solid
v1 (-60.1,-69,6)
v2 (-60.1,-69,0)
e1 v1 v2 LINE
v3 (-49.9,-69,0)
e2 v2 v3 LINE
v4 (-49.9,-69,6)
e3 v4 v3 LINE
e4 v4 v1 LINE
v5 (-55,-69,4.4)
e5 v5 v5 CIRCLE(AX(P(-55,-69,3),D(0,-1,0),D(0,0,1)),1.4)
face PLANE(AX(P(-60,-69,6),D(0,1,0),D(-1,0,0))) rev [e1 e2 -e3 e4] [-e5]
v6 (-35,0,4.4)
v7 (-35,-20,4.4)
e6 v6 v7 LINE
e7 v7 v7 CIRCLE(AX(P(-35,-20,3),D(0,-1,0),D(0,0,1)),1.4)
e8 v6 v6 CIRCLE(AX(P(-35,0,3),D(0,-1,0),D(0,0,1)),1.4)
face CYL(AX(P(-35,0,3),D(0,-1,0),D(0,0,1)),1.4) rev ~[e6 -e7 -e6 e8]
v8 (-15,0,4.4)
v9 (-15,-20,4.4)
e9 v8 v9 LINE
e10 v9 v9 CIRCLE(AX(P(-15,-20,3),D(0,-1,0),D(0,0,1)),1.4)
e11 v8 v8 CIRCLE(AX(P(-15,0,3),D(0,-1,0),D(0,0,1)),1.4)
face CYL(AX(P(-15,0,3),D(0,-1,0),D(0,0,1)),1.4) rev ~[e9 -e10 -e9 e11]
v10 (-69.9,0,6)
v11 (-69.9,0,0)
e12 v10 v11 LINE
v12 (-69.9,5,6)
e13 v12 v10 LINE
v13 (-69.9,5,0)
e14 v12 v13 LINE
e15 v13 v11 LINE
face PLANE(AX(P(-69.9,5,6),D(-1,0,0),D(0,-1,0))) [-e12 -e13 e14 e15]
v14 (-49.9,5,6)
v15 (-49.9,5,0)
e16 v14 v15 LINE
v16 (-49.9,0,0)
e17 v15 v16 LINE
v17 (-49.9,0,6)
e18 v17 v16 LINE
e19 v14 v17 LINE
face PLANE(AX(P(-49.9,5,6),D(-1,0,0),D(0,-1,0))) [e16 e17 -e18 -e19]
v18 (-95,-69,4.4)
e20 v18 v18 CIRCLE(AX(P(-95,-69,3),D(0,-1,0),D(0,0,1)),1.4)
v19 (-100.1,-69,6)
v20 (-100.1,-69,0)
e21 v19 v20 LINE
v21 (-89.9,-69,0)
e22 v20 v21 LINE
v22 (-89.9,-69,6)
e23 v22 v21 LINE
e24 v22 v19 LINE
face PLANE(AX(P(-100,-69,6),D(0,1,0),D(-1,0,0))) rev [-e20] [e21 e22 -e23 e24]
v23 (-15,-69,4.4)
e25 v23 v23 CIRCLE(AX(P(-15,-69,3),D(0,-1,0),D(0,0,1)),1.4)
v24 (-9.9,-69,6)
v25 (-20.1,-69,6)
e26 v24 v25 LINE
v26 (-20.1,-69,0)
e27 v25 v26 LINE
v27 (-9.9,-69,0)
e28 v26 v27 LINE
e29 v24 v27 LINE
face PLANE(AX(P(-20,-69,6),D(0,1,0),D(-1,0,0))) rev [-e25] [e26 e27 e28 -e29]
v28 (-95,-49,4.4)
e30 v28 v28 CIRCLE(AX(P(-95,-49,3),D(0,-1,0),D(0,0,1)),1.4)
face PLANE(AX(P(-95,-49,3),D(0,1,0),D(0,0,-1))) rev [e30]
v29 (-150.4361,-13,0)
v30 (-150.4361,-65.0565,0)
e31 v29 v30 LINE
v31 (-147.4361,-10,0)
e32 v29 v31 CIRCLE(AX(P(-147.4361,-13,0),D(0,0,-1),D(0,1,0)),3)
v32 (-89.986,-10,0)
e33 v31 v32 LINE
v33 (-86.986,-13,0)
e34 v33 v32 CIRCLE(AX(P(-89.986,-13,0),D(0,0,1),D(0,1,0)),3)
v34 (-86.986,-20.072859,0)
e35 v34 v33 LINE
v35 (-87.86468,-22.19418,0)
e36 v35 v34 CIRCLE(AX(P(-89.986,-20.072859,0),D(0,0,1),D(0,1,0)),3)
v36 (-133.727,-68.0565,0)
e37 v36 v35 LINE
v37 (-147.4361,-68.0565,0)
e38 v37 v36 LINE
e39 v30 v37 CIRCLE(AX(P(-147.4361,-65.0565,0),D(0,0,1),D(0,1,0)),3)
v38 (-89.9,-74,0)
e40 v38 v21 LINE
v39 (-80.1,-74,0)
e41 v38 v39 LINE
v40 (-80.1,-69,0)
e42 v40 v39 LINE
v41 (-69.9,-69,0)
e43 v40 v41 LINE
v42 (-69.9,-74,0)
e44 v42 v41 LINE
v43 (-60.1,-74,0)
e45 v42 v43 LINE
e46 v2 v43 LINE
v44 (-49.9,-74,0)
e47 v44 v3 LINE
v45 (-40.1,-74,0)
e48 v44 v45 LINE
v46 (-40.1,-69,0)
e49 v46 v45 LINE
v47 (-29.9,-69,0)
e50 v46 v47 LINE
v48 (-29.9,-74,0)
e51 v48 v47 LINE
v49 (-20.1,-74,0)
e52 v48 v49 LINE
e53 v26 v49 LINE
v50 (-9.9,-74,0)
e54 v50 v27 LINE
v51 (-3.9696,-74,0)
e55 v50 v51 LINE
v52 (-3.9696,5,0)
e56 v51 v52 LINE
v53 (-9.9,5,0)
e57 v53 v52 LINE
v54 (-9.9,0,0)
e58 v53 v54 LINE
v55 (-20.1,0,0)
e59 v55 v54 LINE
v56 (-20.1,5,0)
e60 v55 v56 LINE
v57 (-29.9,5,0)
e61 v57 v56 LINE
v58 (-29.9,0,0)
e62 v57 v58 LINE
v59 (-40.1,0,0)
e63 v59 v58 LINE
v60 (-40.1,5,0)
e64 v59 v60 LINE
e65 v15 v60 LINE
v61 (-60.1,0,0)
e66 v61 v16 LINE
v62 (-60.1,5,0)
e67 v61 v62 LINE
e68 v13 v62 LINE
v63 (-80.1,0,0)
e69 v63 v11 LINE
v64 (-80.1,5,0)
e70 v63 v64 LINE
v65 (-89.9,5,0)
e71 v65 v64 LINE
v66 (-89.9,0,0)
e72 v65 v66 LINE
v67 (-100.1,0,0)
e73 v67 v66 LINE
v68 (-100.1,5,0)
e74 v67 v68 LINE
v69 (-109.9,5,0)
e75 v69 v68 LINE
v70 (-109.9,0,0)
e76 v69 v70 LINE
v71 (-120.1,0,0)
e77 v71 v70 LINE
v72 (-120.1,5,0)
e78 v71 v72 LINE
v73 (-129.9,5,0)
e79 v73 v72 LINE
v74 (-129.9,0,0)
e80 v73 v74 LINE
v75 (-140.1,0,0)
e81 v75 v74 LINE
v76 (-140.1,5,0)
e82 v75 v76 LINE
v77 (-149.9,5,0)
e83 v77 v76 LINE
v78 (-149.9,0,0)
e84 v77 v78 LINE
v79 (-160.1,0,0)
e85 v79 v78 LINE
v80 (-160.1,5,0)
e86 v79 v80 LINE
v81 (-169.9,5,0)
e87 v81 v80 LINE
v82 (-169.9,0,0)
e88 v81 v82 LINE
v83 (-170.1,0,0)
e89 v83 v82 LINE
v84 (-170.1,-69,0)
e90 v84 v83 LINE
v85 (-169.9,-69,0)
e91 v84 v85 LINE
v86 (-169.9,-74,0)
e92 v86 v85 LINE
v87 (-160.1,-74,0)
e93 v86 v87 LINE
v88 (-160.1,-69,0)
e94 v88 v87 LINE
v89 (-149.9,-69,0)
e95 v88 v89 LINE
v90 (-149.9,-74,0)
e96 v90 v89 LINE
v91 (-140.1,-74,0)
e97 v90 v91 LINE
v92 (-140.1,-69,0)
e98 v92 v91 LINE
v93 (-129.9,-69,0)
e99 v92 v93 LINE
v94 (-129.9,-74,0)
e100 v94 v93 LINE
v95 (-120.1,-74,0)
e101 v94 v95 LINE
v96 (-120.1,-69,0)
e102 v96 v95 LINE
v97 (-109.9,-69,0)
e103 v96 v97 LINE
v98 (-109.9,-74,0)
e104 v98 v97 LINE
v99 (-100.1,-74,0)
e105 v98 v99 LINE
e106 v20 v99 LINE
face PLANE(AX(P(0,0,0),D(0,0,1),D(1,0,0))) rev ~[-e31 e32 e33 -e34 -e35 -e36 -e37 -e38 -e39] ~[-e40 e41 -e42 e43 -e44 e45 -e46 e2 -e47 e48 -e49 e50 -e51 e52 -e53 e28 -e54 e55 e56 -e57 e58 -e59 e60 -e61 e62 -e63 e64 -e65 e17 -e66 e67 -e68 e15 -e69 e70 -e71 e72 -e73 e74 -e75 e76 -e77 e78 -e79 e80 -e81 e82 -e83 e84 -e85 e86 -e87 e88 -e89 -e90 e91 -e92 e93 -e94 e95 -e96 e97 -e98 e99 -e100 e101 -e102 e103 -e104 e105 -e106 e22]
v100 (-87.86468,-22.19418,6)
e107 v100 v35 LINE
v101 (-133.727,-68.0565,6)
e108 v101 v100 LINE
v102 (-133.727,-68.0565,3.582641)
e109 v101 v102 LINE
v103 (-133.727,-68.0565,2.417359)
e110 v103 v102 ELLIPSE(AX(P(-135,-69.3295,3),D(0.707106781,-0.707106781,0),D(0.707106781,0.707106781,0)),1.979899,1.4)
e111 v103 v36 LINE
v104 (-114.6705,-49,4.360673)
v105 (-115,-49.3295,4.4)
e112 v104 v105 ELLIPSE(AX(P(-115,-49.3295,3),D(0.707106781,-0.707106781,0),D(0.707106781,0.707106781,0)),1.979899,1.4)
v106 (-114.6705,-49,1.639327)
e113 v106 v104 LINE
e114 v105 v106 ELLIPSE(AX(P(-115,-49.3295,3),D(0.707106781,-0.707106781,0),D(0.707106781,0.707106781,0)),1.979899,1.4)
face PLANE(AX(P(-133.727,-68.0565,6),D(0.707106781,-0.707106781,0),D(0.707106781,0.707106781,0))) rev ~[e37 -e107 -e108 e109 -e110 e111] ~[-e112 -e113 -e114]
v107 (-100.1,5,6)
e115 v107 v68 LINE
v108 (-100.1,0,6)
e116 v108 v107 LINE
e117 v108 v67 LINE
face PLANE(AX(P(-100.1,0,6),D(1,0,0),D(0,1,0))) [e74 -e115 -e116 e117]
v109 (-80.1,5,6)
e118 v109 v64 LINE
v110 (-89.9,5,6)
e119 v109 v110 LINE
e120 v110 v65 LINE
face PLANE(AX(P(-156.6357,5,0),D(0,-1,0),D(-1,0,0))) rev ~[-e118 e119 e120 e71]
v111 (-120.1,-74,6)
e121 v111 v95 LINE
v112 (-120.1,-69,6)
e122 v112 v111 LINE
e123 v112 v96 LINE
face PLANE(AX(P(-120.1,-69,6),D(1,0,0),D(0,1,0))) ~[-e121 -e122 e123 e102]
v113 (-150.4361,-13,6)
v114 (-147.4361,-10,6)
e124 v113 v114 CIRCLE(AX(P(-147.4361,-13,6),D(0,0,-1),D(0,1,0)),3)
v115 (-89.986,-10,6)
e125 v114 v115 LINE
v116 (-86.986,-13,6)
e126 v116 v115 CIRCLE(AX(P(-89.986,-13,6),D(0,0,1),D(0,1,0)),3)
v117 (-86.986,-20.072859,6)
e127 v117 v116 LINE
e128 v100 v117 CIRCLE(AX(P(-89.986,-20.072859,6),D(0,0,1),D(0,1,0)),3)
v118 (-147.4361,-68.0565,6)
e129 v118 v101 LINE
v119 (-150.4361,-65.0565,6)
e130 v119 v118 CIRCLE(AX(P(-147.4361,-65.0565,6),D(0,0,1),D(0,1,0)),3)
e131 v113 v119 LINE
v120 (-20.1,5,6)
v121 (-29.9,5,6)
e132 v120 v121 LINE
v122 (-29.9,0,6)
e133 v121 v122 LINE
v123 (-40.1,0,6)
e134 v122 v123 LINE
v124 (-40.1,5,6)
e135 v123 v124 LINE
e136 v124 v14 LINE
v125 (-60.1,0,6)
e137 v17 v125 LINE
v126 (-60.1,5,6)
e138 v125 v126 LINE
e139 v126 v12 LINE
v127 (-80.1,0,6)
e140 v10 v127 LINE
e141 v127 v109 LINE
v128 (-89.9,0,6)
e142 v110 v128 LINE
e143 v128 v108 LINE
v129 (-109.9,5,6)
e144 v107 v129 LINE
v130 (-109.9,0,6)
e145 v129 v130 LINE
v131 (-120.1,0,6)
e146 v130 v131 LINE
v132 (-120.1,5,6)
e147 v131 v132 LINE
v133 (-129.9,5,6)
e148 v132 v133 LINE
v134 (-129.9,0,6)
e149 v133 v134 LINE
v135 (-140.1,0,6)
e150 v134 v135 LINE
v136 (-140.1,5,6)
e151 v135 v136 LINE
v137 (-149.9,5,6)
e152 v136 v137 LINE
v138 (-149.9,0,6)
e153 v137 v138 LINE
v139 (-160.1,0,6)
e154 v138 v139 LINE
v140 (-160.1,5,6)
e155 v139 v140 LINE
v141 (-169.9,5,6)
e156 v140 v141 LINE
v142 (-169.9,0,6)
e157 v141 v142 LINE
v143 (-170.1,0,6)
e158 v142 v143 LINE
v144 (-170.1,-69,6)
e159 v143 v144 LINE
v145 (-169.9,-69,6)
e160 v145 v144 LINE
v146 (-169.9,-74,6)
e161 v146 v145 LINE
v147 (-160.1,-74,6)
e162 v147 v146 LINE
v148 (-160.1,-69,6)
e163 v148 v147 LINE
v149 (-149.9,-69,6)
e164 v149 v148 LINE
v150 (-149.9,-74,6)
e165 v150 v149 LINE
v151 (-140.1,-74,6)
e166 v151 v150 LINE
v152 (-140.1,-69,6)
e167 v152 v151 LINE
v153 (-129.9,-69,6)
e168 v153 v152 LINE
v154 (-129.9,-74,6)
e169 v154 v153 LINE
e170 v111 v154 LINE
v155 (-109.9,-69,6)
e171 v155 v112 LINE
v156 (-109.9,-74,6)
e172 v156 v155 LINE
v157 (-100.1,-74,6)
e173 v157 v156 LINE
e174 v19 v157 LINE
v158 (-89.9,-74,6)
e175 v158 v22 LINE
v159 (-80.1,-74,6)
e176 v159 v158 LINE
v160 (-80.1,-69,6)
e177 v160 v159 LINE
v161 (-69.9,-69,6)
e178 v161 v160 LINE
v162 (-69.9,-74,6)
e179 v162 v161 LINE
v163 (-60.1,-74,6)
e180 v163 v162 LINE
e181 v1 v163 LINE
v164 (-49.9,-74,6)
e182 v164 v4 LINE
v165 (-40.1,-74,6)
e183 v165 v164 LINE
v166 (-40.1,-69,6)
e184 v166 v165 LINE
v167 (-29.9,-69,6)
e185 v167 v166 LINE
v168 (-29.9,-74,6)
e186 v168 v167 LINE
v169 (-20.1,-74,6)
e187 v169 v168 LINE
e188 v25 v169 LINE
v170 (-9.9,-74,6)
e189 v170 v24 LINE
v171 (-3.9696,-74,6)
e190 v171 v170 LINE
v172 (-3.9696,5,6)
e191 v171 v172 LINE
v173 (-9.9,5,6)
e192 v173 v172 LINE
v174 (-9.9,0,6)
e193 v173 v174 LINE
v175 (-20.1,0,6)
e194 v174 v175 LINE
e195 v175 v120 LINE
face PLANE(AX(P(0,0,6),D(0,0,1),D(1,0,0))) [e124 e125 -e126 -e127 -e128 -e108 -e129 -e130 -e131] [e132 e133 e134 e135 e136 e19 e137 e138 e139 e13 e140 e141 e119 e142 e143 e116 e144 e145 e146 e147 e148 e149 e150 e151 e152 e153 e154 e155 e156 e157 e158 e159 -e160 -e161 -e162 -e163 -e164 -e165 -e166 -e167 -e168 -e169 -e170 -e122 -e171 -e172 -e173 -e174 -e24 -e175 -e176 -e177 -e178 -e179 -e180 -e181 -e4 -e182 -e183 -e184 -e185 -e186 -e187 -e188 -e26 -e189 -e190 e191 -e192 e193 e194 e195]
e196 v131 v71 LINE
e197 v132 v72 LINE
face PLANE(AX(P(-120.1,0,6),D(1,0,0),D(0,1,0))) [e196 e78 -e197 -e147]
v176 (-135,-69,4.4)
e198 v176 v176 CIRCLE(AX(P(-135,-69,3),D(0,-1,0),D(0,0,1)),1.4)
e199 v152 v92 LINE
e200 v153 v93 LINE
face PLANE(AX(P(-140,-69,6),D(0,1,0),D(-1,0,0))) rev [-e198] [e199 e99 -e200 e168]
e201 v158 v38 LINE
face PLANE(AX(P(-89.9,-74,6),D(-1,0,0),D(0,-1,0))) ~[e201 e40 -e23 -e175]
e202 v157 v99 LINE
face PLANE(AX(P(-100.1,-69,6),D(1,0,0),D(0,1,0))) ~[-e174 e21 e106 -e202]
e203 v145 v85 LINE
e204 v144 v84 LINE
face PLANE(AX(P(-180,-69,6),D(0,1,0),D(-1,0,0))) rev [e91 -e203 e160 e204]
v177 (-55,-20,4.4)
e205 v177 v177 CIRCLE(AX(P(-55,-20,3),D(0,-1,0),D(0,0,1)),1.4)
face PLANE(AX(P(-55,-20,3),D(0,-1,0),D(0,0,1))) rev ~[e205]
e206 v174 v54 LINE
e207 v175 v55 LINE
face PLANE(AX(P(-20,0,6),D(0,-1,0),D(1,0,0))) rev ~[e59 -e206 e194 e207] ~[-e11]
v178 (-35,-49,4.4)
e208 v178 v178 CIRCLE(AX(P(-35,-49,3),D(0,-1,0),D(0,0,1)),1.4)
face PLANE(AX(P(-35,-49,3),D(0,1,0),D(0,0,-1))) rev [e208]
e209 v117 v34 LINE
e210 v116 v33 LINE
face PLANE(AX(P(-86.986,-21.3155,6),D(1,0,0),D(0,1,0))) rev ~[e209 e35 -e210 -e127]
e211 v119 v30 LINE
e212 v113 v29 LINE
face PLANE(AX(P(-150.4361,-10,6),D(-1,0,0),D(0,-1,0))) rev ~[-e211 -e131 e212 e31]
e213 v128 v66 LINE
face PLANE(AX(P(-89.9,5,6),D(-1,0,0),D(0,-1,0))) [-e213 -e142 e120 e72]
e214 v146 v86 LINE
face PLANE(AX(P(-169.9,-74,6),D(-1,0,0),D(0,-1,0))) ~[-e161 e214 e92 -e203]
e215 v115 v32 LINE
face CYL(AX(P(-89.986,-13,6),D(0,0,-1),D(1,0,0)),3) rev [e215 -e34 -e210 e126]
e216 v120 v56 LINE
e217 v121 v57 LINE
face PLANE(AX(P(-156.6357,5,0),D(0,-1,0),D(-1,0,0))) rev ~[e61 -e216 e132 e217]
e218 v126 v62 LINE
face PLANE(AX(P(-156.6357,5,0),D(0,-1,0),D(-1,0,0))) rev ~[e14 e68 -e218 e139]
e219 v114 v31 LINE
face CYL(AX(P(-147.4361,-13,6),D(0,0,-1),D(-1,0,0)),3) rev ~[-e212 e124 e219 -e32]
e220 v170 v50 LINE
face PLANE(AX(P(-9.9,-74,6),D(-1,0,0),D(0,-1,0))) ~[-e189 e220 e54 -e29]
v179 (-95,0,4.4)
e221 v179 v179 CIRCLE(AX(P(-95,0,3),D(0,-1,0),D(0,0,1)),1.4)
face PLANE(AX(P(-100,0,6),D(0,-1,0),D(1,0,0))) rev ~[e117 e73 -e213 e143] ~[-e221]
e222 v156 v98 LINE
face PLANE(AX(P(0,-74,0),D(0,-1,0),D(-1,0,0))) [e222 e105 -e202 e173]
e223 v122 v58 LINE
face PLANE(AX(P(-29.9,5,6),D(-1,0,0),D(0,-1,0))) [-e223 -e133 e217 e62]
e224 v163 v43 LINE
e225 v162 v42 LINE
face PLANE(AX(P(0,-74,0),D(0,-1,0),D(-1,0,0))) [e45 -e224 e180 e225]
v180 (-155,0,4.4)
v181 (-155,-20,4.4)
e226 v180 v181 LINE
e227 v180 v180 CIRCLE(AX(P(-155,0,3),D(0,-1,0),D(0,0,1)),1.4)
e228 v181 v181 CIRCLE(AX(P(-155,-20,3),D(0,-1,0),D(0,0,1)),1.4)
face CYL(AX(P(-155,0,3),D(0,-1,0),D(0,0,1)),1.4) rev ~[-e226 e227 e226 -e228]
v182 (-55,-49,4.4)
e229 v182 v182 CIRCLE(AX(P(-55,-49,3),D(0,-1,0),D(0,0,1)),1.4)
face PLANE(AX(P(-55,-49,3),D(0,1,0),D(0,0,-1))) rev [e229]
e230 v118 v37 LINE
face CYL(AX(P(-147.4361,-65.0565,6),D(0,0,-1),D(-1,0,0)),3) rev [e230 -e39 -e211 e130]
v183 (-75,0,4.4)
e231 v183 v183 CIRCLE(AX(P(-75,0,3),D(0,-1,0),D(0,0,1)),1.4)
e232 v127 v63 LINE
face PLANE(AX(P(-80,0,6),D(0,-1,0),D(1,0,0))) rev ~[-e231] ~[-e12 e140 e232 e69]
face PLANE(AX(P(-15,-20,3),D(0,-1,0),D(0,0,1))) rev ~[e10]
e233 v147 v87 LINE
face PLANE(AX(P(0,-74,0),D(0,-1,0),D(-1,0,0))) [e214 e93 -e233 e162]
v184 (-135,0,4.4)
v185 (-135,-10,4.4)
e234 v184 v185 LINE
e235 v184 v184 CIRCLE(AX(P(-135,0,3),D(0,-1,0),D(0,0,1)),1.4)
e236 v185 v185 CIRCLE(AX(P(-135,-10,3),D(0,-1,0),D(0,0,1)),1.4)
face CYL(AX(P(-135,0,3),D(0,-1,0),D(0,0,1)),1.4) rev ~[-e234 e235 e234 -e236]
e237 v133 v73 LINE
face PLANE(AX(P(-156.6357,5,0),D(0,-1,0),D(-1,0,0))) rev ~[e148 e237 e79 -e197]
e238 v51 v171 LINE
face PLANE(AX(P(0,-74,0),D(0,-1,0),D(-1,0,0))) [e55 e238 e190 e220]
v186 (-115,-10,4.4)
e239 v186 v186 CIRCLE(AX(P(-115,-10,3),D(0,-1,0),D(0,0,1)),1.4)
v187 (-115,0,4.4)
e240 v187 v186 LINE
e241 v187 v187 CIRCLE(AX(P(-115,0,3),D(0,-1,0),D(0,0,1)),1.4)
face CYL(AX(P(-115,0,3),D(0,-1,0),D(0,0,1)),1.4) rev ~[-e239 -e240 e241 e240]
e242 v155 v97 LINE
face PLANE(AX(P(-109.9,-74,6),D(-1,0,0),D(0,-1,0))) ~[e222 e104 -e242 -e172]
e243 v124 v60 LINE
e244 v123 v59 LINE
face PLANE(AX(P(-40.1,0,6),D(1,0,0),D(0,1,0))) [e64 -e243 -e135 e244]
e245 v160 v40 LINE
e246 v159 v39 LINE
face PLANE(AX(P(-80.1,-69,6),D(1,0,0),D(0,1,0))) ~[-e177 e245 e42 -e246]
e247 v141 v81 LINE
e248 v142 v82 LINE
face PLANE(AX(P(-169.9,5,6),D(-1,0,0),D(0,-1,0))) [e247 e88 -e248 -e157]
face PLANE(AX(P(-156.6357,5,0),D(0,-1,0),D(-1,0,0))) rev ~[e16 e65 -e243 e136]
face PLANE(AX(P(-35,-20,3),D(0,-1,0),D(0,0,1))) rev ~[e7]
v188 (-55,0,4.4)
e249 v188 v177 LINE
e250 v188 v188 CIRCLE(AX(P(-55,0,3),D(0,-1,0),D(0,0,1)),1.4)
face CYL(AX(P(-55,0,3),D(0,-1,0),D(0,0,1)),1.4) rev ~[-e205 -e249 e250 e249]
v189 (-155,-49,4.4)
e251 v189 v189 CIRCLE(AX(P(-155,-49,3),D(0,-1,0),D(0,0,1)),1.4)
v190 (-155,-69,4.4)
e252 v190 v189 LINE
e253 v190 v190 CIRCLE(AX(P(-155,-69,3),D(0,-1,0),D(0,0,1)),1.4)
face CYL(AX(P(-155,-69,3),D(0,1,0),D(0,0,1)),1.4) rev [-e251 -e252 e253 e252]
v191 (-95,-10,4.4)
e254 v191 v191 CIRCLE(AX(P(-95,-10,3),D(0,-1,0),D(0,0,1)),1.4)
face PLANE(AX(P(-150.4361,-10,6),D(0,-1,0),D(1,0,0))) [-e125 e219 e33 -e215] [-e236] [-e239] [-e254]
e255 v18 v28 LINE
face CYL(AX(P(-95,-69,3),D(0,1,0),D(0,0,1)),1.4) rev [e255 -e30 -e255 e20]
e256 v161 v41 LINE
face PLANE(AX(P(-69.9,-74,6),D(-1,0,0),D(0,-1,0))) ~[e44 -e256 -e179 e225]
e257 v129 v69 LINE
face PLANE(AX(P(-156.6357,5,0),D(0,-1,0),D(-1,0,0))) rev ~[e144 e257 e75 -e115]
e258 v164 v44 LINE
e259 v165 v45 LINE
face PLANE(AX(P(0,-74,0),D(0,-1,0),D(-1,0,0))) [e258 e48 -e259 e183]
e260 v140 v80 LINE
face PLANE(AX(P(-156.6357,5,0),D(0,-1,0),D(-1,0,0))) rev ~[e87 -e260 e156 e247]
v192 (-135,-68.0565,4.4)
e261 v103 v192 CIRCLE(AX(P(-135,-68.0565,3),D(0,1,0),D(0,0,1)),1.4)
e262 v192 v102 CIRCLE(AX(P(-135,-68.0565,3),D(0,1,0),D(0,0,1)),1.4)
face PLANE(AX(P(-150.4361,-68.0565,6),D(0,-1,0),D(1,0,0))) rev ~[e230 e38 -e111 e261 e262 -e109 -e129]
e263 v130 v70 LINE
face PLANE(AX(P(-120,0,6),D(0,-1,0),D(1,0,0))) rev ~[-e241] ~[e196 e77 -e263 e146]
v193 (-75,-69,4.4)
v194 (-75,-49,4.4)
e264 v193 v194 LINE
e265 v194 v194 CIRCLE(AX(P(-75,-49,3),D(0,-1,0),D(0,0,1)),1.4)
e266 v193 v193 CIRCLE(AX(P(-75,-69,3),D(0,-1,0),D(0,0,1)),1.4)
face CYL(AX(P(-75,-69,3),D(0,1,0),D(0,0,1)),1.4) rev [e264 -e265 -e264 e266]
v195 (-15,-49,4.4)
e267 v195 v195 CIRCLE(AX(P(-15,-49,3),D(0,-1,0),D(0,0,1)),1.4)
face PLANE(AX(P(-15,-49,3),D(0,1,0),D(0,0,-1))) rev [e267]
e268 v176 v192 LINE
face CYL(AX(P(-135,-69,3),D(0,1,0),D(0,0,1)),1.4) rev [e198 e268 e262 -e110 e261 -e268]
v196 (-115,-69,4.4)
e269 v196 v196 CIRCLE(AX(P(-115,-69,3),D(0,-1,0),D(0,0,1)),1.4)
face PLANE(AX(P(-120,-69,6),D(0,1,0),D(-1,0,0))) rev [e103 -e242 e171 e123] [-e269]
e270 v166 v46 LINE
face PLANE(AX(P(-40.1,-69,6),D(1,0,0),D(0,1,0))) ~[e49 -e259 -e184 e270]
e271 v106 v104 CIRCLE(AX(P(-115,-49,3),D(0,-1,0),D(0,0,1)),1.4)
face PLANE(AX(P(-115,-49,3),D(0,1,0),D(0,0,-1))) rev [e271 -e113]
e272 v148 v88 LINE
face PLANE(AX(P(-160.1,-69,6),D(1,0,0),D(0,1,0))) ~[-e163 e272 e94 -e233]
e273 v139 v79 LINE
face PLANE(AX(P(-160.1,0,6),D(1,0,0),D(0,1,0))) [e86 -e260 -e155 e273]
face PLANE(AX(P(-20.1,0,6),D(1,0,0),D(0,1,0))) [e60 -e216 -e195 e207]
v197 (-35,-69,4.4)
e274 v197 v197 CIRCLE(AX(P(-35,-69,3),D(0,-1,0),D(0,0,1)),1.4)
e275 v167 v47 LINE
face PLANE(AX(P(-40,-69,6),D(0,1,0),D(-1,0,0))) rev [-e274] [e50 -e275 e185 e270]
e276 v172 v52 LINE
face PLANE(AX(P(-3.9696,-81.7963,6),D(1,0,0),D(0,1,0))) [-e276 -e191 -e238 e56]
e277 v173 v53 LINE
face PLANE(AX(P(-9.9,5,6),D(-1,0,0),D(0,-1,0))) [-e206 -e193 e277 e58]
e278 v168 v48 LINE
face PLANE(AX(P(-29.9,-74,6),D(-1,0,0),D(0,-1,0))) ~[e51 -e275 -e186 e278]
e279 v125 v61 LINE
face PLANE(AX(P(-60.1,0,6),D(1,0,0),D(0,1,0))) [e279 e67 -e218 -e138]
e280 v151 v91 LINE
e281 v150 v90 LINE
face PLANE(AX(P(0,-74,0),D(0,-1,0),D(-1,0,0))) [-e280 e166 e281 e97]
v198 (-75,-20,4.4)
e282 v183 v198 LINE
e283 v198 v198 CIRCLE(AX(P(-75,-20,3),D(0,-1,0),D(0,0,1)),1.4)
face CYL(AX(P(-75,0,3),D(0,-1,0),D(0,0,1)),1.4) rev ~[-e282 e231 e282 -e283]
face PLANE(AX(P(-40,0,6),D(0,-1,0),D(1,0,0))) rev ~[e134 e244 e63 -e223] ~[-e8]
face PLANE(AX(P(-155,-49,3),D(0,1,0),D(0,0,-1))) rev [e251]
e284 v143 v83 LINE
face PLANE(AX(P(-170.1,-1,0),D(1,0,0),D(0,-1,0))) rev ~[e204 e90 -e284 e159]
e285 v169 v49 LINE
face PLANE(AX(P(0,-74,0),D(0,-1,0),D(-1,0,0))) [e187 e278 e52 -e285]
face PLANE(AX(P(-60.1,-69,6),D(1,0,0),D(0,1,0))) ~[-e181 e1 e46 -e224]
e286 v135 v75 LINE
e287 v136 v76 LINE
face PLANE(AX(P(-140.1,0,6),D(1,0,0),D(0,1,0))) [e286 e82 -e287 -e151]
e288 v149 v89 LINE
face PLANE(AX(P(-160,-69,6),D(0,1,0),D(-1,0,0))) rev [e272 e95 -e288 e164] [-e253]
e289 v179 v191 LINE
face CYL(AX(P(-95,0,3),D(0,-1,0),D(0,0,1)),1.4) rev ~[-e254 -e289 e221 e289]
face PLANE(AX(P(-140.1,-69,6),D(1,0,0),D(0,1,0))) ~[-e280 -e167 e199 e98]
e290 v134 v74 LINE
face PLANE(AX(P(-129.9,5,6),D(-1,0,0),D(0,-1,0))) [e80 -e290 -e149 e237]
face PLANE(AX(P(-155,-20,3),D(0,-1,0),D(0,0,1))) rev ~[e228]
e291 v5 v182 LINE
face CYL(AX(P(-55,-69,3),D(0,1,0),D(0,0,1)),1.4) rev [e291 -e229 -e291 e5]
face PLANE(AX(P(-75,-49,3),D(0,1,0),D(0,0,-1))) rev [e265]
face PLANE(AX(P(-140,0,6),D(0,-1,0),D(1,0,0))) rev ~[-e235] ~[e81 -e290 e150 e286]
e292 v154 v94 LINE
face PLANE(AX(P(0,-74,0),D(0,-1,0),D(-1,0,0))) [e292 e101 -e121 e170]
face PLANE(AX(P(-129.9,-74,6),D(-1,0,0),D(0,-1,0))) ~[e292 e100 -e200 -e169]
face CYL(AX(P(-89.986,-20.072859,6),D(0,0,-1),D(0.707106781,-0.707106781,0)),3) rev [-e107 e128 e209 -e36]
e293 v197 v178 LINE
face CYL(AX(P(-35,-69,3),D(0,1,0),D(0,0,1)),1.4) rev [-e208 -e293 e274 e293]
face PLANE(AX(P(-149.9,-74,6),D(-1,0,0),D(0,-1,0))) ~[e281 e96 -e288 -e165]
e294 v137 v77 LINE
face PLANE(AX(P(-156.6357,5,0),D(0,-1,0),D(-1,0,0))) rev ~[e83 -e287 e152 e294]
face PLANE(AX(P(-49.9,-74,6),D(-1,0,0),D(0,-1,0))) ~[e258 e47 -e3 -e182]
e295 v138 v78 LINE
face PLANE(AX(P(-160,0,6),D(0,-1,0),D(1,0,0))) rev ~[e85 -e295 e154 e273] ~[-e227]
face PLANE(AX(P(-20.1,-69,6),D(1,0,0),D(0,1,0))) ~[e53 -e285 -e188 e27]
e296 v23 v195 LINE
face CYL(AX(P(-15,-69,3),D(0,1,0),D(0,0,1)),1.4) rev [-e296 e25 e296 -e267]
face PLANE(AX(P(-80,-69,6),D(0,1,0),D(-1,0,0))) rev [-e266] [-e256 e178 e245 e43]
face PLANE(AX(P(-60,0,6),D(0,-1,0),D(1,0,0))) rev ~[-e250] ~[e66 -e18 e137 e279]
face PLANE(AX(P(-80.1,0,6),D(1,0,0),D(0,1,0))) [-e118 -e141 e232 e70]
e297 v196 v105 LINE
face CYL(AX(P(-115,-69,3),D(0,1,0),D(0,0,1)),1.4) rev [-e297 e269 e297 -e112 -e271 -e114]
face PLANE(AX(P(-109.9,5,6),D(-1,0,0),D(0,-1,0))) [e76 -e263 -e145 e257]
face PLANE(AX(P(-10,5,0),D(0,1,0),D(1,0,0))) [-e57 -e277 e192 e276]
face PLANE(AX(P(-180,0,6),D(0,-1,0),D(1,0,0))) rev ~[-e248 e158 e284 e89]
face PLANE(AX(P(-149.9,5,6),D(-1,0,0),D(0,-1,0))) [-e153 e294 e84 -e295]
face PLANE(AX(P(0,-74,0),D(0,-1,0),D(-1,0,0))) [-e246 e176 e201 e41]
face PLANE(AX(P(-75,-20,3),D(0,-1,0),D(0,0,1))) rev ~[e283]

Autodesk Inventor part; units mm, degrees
ref_plane "YZ Plane" through (0, 0, 0) normal (1, 0, 0) x (0, 1, 0)
ref_plane "XZ Plane" through (0, 0, 0) normal (0, 1, 0) x (-1, 0, 0)
ref_plane "XY Plane" through (0, 0, 0) normal (0, 0, 1) x (1, 0, 0)
sketch "Sketch1" plane through (0, 0, 0) normal (0, 0, 1) x (1, 0, 0)
  line L0 (0, -120) -> (0, 155.2673) projected
  line L1 (-130, 0) -> (-130, 5) projected
  line L2 (-10, 5) -> (0, 5) projected
  line L3 (0, -74) -> (-9.8, -74) projected
  line L4 (-130, 5) -> (-120, 5) projected
  line L5 (-120.2, -74) -> (-129.8, -74) projected
  line L6 (-129.8, -69) -> (-129.8, -74) projected
  line L7 (0, 5) -> (-170.1, 5)
  line L8 (-170.1, 5) -> (-170.1, -74)
  line L9 (-170.1, -74) -> (0, -74)
  line L10 (0, -74) -> (0, 5)
  line L11 (-156.6357, -1) -> (-156.6357, 5) projected
  line L12 (-170.1, -1) -> (-170.1, 5) projected
  point P0 (0, 0)
  dimension "d27" = 0
extrude "Extrusion1" add sketch "Sketch1" along normal blind 6
sketch "Sketch2" plane through (0, 0, 6) normal (0, 0, 1) x (1, 0, 0)
  line L0 (-10, 0) -> (-10, 5) projected
  line L1 (0, 5) -> (-170.1, 5) projected
  line L2 (-20, 0) -> (-10, 0) projected
  line L3 (-20, 5) -> (-20, 0) projected
  line L4 (-9.9, 5) -> (-9.9, 0)
  line L5 (-20.1, 0) -> (-20.1, 5)
  line L6 (-10, 0) -> (-9.9, 0)
  line L7 (-20, 0) -> (-20.1, 0)
  point P0 (-130, 5)
extrude "Extrusion2" cut sketch "Sketch2" against normal blind 6
sketch "Sketch3" plane through (-20.1, 0, 6) normal (0, 1, 0) x (1, 0, 0)
  circle A0 centre (5.1, 3) radius 1.5 projected
  point P0 (20.1, 6)
hole "Hole1" at (-15, 0, 3) direction (0, -1, 0) diameter 2.8 depth 20
pattern_linear "Rectangular Pattern2" count 9 spacing 20 along (-1, 0, 0) of "Extrusion2", "Hole1"
ref_plane "Work Plane1" through (-170.1, -34.5, 0) normal (0, -1, 0) x (1, 0, 0)
mirror "Mirror1" about plane through (-170.1, -34.5, 0) normal (0, -1, 0) of "Extrusion2", "Hole1", "Rectangular Pattern2"
sketch "Skizze4" plane through (0, 0, 6) normal (0, 0, 1) x (1, 0, 0)
  line L0 (-3.4696, 5) -> (-3.4696, -74) projected
  line L1 (15.4076, -81.7963) -> (-3.9696, -81.7963)
  line L2 (-3.9696, -81.7963) -> (-3.9696, 13.3495)
  line L3 (-3.9696, 13.3495) -> (15.4076, 13.3495)
  line L4 (15.4076, 13.3495) -> (15.4076, -81.7963)
  point P0 (0, 0)
  dimension "d23" = 0.5
extrude "Extrusion3" cut sketch "Skizze4" against normal blind 10
sketch "Skizze5" plane through (0, 0, 6) normal (0, 0, 1) x (1, 0, 0)
  ellipse E0 centre (-101.986, -20.3375) end of major axis (-101.986, -27.7035) minor radius 7.2541 projected
  ellipse E1 centre (-140.4361, -58.0565) end of major axis (-140.4361, -65.4225) minor radius 7.2541 projected
  line L0 (-150.4361, -68.0565) -> (-91.986, -68.0565)
  line L1 (-86.986, -21.3155) -> (-86.986, -5)
  line L2 (-86.986, -5) -> (-150.4361, -5)
  line L3 (-150.4361, -5) -> (-150.4361, -68.0565)
  line L4 (-133.727, -68.0565) -> (-86.986, -21.3155)
  line L5 (-133.727, -68.0565) -> (-67.6252, -68.0565) construction
  line L6 (-86.986, -5) -> (-150.4361, -5)
  line L7 (-150.4361, -5) -> (-150.4361, -10)
  line L8 (-150.4361, -10) -> (-86.986, -10)
  line L9 (-86.986, -10) -> (-86.986, -5)
  point P0 (0, 0)
  dimension "d28" = 15
  dimension "d29" = 10
  dimension "d30" = 10
  dimension "d33" = 45
  dimension "d34" = 5
extrude "Extrusion4" cut sketch "Skizze5" against normal blind 10 contours E0 | E1 | L3 L8 L1 L4 L0
fillet "Rundung1" radius 3 4 edges at (-86.986, -10, 3) (-86.986, -21.3155, 3) (-150.4361, -68.0565, 3) (-150.4361, -10, 3)
properties part number "00_Baseplate_Simmo_side2"
